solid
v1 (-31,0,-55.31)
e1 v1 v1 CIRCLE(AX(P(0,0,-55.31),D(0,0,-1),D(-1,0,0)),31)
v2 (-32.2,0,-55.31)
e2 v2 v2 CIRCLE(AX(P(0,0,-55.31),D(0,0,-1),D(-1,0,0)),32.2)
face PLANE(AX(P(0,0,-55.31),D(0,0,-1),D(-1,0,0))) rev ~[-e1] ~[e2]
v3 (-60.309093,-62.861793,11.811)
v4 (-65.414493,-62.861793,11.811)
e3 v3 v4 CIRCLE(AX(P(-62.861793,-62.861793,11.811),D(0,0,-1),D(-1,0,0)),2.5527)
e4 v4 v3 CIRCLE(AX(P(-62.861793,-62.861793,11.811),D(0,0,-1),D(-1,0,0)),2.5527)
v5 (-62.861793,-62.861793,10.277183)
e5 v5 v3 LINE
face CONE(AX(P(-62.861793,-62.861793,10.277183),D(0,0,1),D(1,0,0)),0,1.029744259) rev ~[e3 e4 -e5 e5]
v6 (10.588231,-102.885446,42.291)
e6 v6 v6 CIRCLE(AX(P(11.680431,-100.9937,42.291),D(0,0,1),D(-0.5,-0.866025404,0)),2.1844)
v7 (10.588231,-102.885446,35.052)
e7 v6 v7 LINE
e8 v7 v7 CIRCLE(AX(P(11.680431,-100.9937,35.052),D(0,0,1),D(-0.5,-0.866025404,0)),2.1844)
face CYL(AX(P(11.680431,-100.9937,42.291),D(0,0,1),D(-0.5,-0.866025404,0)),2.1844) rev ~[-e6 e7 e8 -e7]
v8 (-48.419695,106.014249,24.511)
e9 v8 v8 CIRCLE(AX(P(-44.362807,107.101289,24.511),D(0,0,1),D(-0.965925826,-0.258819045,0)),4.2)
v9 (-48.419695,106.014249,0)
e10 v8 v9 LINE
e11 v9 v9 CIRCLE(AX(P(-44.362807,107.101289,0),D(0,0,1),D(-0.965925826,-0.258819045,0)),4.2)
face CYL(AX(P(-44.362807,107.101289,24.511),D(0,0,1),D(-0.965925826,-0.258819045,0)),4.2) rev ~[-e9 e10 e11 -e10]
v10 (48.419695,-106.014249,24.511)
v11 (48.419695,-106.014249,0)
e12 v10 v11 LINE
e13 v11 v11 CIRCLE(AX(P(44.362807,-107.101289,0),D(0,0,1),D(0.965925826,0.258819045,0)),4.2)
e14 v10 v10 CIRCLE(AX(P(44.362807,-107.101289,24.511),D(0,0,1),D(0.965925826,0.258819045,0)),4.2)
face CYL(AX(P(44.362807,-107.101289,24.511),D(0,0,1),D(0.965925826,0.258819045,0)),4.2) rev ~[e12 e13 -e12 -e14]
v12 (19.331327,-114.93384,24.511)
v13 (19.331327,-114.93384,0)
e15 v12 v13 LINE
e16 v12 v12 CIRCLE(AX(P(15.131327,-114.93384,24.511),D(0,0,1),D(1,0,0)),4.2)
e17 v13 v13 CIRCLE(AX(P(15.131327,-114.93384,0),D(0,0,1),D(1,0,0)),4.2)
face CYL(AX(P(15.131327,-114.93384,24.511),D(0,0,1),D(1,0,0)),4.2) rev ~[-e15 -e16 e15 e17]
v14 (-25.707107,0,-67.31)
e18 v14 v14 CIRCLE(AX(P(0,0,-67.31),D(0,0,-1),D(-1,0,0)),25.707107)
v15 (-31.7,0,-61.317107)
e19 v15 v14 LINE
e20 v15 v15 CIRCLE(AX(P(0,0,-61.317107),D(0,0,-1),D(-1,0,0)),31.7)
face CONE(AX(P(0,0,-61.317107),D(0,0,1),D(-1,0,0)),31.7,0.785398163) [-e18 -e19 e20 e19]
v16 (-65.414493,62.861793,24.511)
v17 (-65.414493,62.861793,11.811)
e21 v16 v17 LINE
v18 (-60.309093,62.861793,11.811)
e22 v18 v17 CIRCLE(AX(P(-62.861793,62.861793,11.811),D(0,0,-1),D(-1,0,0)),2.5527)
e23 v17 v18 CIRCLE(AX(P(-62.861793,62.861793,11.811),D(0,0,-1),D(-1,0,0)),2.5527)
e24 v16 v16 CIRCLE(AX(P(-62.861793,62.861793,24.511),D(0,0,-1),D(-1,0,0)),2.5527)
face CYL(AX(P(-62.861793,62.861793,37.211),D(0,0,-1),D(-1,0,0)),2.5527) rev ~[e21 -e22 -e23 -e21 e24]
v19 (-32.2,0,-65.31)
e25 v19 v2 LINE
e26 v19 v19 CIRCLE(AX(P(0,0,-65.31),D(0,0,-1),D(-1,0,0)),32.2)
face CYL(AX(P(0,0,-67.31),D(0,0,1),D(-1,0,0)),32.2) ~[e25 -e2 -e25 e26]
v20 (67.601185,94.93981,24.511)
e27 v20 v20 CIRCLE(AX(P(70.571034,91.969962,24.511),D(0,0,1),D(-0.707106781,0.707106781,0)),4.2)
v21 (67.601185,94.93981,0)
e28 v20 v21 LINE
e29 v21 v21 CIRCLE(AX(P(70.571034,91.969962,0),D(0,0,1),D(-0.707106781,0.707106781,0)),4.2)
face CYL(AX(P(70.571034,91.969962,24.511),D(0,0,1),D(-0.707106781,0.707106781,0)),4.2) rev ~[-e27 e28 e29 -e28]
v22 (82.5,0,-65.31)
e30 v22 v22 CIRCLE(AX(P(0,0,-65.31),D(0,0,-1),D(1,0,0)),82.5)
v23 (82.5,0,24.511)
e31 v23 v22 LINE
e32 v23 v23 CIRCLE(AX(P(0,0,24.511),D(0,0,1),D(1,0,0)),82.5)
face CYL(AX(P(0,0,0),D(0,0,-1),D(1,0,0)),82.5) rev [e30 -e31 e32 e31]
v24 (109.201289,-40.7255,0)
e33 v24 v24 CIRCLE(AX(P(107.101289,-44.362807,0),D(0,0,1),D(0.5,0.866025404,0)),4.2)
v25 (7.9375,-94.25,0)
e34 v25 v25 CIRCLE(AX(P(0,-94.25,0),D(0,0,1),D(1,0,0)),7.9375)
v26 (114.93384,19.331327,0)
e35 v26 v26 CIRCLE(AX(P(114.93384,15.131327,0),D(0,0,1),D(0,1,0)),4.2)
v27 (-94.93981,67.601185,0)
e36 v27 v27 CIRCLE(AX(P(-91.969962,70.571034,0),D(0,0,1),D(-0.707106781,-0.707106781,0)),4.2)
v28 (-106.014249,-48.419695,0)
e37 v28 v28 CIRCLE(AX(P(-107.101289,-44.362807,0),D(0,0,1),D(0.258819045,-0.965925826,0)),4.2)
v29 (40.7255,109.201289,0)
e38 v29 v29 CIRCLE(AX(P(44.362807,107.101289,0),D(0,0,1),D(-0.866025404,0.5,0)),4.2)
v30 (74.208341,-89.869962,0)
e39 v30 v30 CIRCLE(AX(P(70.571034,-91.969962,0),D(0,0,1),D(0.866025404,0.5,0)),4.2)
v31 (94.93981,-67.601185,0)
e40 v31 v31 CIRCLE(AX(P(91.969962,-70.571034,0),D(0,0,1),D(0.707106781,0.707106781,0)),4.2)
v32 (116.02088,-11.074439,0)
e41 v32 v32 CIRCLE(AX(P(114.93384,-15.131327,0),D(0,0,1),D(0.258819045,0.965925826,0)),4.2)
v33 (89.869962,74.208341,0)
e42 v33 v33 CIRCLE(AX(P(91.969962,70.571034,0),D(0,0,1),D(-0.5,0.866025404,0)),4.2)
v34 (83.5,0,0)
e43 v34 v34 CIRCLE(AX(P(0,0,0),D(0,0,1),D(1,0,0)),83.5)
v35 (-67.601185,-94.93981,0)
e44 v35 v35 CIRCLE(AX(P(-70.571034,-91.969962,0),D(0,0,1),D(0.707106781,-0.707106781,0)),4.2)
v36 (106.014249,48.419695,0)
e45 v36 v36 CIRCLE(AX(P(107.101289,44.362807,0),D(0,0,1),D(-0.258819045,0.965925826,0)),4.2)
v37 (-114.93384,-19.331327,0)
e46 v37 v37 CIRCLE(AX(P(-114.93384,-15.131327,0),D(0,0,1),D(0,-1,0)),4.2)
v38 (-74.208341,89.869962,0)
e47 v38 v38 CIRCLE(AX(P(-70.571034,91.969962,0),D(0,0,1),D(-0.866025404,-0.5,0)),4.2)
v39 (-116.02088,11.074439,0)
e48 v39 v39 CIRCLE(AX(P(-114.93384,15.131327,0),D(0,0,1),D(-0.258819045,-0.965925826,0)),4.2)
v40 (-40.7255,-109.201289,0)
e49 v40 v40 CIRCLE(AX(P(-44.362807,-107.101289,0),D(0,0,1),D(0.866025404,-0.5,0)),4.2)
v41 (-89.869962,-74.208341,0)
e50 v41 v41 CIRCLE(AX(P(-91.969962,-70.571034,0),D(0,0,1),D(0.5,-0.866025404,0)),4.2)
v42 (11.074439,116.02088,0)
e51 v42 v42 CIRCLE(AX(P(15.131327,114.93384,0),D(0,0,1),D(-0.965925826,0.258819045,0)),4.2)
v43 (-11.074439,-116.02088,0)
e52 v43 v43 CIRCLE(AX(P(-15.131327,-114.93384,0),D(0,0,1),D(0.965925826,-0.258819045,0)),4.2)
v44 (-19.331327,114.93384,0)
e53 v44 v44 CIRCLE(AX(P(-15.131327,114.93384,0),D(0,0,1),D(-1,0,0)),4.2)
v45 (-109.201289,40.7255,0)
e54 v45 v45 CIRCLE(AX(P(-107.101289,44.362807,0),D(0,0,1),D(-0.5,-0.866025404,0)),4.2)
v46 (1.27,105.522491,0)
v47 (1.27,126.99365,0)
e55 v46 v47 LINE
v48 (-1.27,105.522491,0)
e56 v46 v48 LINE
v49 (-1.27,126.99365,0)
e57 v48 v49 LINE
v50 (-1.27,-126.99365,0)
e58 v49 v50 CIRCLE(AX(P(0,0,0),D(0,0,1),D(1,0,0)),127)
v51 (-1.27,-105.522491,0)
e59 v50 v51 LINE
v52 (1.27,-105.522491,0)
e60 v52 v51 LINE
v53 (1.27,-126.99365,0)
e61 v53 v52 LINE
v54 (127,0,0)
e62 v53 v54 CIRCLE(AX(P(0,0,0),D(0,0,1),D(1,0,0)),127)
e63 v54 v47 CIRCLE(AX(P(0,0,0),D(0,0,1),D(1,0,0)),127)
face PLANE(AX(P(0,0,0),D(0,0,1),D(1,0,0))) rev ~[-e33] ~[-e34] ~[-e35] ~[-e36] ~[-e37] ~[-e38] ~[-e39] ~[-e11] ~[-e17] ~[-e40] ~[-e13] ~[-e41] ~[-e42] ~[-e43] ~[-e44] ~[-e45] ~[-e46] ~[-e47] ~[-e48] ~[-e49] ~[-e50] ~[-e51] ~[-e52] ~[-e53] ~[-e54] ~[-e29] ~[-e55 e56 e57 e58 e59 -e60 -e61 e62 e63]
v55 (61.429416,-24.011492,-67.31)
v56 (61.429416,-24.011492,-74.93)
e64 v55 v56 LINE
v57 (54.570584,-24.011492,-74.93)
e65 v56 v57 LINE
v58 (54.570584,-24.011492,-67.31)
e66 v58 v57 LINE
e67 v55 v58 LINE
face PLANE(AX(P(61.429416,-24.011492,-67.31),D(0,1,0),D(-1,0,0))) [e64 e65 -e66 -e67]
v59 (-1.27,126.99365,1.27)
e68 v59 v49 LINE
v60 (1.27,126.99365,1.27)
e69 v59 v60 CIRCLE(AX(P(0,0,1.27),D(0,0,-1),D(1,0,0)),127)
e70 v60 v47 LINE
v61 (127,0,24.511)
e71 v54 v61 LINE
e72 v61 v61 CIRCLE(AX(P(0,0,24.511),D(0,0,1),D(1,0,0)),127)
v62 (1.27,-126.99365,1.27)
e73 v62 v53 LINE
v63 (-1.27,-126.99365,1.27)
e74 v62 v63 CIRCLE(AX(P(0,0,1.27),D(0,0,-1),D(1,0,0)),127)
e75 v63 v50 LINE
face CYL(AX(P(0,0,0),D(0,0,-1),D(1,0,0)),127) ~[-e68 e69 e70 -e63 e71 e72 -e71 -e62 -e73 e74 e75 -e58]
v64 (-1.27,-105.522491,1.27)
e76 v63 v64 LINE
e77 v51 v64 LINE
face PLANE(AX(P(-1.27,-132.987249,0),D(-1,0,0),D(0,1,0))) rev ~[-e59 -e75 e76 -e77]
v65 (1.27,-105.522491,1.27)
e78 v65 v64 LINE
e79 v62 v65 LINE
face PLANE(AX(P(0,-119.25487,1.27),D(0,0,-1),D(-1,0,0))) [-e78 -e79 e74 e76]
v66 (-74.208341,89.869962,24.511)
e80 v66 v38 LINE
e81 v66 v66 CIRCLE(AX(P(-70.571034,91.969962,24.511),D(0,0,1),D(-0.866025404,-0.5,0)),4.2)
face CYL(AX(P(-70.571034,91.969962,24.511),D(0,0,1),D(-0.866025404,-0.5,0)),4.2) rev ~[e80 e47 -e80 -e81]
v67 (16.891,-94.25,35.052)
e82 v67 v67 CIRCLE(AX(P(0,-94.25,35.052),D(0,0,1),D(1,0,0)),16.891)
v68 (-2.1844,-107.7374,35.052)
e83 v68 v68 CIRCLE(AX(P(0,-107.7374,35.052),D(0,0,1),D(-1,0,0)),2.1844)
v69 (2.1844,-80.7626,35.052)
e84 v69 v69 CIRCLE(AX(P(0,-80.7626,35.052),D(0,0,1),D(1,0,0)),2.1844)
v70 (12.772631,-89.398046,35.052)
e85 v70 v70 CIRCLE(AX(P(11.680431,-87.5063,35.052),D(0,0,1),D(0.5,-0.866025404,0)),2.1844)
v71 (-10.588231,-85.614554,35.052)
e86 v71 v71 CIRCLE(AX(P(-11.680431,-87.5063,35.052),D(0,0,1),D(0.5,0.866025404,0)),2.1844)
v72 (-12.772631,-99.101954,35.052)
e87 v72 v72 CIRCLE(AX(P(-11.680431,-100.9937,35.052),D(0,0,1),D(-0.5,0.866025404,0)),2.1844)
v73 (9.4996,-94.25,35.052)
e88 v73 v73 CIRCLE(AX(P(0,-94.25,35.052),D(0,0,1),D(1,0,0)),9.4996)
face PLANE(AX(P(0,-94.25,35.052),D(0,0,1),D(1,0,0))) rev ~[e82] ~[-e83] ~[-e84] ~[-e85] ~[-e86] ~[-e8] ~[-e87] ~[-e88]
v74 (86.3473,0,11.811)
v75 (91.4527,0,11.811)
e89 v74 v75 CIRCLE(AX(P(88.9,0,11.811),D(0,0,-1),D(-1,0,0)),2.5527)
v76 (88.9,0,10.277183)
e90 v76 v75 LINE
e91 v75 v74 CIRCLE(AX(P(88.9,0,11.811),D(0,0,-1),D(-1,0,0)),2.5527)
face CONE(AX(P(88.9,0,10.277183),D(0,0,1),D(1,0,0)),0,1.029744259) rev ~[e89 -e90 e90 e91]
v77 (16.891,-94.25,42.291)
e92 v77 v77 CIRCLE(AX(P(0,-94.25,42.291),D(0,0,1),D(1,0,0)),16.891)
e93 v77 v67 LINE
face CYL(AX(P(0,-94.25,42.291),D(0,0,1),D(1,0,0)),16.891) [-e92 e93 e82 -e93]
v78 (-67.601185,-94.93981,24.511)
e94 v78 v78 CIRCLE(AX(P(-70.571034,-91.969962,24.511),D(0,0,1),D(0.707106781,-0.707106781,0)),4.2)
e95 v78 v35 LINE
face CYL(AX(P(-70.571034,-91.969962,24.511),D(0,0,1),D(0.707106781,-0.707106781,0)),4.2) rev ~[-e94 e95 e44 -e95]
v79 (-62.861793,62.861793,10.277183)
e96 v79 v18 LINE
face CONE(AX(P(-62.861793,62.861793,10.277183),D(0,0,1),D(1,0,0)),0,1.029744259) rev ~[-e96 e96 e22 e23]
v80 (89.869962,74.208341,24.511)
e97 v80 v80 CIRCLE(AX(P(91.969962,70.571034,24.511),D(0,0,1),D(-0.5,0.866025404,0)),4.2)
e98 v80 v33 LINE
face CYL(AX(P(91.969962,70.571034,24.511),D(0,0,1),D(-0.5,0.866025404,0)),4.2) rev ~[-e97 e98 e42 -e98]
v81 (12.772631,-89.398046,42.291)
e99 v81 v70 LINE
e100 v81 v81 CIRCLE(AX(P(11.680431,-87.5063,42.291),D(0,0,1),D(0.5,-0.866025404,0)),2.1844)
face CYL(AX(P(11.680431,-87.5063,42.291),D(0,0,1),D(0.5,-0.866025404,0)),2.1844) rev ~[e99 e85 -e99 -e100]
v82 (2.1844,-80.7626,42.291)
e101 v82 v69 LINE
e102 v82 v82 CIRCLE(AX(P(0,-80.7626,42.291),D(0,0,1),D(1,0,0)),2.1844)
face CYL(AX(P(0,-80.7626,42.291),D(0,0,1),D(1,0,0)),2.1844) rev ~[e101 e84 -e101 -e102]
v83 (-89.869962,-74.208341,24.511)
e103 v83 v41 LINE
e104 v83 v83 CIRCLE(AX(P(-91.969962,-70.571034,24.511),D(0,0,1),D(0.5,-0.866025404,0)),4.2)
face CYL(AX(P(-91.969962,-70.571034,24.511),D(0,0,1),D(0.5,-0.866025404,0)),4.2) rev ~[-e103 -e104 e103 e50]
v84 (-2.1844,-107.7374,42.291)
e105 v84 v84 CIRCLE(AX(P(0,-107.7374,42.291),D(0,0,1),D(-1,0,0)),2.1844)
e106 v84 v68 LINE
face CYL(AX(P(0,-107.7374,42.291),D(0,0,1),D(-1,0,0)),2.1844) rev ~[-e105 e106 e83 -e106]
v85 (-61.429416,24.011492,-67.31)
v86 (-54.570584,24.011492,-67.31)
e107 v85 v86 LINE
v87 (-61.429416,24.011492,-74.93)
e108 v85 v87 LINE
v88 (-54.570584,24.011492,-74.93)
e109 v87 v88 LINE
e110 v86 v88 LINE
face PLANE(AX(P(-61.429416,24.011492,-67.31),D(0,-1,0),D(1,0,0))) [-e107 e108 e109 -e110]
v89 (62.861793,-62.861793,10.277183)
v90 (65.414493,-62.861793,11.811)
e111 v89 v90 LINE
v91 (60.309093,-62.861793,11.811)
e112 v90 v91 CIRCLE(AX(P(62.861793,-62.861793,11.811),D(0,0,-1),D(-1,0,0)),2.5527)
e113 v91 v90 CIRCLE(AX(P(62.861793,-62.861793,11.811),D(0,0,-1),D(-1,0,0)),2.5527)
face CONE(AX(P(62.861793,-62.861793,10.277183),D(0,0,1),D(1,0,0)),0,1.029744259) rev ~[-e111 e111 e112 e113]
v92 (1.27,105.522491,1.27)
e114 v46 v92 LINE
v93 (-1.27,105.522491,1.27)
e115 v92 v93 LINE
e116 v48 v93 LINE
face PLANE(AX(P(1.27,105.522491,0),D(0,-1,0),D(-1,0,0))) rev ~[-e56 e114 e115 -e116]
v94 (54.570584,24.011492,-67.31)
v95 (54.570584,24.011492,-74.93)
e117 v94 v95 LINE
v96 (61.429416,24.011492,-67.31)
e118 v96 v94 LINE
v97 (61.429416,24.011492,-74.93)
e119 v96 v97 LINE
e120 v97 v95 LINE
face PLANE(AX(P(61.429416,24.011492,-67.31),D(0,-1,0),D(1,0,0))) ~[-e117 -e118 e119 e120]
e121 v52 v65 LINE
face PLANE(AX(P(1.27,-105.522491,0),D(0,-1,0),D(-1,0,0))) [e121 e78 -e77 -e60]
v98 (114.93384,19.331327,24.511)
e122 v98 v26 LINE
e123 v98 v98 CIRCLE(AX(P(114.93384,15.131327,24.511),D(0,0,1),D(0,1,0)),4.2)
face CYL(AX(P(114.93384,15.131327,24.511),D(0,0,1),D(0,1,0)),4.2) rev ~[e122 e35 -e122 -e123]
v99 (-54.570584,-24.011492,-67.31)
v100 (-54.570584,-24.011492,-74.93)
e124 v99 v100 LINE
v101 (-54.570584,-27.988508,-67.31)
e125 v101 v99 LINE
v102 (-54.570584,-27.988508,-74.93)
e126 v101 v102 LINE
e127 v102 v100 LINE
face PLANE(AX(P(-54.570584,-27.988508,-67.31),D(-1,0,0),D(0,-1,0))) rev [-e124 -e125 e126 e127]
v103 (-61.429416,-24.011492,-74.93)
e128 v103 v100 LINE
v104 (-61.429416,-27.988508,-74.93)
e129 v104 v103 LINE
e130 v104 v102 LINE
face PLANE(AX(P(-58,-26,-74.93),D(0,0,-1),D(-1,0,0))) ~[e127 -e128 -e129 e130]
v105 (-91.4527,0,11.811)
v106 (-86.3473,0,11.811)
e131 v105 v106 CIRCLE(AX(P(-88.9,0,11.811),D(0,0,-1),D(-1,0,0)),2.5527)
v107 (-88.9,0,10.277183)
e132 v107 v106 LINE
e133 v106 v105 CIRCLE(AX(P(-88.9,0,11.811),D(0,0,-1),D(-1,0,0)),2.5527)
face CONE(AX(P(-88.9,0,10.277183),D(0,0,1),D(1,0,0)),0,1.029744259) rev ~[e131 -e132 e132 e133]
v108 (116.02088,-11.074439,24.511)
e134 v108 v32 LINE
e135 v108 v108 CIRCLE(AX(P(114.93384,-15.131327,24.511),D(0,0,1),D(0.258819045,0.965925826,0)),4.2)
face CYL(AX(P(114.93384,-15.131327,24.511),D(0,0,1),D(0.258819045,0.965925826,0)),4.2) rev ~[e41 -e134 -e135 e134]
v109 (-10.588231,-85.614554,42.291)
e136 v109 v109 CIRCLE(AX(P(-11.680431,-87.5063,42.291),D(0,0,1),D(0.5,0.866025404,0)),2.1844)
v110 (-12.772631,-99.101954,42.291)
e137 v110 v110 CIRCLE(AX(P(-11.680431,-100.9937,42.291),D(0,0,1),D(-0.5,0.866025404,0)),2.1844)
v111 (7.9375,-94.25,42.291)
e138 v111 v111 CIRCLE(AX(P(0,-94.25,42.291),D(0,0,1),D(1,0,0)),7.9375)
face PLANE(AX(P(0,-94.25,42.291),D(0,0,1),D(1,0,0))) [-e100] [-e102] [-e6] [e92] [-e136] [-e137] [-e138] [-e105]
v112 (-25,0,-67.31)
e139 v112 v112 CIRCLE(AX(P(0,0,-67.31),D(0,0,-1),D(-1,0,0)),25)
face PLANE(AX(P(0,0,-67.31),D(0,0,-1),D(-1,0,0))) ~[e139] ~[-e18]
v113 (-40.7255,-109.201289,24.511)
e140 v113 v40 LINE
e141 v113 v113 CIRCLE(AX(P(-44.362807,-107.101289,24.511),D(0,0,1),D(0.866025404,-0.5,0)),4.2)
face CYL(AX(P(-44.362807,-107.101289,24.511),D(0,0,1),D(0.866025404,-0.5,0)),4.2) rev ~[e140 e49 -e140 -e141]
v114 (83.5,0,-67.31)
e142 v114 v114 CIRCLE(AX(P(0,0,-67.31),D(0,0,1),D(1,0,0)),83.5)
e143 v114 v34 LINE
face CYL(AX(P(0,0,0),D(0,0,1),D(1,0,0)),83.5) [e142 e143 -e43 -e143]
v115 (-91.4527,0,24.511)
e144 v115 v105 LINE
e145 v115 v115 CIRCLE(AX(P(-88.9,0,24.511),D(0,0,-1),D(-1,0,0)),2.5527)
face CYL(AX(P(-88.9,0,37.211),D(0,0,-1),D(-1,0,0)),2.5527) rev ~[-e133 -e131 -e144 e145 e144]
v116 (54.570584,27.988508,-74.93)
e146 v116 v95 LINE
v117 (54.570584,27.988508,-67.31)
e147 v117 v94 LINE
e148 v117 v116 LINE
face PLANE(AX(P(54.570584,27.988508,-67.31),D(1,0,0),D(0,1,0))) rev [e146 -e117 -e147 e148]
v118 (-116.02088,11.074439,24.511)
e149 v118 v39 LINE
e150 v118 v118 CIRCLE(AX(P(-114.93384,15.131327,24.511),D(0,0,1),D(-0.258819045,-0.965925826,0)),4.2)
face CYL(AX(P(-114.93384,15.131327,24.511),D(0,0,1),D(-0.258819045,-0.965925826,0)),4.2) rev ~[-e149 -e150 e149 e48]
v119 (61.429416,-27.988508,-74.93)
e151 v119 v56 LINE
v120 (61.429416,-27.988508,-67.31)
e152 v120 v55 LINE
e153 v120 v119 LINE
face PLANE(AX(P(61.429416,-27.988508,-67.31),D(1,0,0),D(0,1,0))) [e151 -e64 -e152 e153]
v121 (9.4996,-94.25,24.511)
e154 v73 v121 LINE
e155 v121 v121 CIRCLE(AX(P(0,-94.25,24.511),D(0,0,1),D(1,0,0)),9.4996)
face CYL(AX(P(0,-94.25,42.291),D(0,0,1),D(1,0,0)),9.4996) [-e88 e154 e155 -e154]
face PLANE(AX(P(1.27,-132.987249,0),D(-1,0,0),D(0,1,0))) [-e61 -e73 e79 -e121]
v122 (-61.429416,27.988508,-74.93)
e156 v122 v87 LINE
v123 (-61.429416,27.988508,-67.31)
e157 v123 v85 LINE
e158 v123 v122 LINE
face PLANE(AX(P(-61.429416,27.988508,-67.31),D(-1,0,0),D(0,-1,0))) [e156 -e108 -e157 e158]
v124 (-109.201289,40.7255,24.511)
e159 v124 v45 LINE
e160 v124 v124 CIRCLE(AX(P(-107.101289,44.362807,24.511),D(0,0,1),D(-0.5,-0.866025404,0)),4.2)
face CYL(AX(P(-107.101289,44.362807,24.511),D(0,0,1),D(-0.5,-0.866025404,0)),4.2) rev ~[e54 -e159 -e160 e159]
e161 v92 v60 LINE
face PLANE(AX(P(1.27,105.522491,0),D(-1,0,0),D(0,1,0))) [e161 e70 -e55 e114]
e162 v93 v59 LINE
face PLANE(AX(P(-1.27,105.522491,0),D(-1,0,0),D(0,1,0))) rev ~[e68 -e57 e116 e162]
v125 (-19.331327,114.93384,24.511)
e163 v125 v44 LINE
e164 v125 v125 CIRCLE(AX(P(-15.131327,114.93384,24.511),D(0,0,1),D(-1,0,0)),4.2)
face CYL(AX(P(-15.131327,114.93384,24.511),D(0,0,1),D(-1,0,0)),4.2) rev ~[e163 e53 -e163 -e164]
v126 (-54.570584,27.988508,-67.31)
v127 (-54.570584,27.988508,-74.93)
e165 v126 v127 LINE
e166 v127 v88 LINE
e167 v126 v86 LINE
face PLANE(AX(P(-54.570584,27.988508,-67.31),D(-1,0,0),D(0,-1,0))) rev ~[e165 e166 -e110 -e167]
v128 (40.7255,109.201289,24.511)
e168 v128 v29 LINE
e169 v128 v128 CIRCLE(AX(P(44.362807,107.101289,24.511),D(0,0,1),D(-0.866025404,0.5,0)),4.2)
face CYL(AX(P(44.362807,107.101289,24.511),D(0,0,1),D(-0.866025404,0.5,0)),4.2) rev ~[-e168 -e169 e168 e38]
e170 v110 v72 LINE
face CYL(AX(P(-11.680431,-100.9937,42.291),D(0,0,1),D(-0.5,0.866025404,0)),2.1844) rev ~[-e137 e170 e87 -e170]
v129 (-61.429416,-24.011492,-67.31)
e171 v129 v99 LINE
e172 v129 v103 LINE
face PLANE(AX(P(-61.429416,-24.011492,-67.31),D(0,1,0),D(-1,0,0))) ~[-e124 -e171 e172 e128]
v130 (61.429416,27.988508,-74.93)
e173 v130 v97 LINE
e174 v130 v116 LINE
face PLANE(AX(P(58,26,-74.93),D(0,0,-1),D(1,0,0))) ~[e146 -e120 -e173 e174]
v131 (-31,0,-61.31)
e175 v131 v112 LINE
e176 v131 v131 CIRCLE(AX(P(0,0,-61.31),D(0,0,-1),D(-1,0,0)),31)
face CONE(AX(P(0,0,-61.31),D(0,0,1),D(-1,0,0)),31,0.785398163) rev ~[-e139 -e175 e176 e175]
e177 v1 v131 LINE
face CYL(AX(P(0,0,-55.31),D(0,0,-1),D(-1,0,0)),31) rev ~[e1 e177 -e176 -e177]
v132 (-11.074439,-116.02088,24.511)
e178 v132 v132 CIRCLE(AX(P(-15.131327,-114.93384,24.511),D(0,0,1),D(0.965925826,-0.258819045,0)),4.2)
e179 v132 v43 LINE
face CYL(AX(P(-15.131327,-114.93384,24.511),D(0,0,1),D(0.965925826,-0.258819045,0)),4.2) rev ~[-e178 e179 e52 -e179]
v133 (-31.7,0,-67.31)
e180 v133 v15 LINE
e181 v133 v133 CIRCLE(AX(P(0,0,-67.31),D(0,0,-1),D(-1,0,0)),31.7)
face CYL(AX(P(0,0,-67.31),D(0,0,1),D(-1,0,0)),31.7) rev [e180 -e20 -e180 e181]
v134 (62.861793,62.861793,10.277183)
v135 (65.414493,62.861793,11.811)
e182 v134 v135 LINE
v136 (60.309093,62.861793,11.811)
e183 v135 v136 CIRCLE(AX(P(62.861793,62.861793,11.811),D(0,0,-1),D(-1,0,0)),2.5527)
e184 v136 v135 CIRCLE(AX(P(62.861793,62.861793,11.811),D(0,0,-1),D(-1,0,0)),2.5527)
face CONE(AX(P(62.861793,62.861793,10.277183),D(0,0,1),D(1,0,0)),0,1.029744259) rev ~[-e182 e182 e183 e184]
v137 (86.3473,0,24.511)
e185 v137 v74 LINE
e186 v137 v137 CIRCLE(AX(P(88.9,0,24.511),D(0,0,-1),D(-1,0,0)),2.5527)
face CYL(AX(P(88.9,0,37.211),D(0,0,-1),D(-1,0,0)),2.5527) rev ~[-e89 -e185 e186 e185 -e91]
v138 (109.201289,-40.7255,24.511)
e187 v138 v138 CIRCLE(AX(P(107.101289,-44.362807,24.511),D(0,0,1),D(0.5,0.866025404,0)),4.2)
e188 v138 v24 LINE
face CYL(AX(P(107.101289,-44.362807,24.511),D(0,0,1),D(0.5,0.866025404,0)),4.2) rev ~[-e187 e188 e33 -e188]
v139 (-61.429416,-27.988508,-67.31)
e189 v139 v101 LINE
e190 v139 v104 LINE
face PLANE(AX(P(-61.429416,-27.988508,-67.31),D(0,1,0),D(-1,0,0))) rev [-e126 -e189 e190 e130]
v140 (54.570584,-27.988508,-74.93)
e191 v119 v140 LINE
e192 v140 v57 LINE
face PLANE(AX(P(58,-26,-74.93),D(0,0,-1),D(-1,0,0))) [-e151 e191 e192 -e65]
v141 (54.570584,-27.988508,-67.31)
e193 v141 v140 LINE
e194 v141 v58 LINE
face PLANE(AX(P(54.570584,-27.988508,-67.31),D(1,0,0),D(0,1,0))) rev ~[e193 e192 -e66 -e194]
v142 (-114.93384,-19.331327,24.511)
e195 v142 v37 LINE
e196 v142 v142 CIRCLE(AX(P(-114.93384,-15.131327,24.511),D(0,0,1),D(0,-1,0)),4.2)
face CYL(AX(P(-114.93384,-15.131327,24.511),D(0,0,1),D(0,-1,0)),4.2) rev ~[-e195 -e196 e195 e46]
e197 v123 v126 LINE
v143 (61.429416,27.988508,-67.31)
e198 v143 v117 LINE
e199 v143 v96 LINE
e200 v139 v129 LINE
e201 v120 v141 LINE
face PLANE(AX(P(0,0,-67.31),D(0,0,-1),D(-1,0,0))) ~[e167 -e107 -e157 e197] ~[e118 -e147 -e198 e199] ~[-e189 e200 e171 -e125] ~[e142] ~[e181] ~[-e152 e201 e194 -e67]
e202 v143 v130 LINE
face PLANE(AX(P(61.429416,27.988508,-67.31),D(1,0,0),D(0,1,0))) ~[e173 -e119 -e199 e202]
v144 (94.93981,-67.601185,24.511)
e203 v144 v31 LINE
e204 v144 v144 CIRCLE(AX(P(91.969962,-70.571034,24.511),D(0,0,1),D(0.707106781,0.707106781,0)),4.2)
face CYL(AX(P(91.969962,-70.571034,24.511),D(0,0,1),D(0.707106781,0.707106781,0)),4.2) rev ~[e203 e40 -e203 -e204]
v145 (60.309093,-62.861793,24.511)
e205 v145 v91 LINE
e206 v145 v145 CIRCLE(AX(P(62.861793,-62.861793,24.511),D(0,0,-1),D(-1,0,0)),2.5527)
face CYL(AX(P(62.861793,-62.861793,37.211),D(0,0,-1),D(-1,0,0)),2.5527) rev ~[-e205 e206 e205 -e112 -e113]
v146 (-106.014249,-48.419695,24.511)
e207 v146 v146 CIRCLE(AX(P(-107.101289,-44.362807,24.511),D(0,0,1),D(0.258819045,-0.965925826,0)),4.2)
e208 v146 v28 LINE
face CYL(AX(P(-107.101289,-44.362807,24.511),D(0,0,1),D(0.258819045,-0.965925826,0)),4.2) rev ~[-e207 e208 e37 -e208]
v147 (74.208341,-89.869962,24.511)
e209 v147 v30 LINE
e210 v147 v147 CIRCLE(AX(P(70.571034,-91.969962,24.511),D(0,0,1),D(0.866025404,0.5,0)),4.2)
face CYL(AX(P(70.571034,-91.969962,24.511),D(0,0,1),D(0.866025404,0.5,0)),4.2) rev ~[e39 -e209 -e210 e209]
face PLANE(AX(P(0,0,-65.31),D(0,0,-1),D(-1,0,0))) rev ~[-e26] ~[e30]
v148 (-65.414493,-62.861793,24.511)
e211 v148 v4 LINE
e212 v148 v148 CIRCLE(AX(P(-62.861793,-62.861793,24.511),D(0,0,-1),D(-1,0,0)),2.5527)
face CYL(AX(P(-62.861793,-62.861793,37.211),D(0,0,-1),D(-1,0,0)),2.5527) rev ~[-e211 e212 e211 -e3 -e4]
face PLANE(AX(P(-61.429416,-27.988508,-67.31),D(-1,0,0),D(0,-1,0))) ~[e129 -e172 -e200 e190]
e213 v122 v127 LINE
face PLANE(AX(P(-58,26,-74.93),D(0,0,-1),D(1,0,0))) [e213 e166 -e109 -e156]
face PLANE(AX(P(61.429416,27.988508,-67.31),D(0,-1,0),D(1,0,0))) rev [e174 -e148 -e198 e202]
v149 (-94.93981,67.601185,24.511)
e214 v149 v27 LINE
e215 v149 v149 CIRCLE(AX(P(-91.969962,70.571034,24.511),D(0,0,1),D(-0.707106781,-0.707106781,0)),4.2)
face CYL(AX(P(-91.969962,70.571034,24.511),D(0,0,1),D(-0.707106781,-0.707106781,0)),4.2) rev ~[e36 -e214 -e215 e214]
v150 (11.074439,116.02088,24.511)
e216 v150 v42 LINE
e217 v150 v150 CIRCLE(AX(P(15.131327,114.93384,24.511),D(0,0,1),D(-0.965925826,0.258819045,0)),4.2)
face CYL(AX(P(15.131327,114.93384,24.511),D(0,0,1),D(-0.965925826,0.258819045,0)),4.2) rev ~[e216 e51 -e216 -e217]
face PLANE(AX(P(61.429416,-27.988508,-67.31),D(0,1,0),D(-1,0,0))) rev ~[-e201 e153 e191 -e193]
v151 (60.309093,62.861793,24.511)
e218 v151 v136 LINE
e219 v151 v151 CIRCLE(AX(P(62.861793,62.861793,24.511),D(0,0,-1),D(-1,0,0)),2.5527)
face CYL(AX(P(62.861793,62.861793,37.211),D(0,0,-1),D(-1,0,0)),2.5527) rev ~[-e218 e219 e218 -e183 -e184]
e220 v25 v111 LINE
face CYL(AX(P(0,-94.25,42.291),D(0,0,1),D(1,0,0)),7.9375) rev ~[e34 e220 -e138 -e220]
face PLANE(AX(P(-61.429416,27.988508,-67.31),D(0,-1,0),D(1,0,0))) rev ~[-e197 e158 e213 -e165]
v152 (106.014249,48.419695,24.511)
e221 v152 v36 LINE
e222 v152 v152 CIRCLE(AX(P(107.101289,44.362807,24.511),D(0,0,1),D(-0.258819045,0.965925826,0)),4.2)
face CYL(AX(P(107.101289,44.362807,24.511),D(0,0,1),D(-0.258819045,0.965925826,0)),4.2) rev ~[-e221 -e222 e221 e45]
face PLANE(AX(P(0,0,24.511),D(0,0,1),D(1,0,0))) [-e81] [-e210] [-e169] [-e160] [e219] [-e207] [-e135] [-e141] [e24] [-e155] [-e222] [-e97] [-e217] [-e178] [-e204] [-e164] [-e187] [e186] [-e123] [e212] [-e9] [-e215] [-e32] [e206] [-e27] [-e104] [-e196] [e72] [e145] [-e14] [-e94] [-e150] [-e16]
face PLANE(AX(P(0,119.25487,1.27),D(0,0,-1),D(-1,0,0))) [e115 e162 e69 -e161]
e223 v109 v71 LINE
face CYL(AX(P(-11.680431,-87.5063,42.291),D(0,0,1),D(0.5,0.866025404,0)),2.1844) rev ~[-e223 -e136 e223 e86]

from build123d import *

# Parameters (mm, degrees)
SKETCH1_R                   = 83.5
SKETCH1_R_2                 = 82.5
EXTRUDE1_DEPTH              = 67.31
SKETCH2_R                   = 127
SKETCH2_R_2                 = 82.5
EXTRUDE2_DEPTH              = 24.511
SKETCH3_R                   = 4.2
CUT_EXTRUDE1_DEPTH          = 24.511
CIRPATTERN1_COUNT           = 24
SKETCH4_R                   = 83.5
SKETCH4_R_2                 = 32.2
EXTRUDE3_DEPTH              = 2
SKETCH13_R                  = 7.9375
EXTRUDE4_DEPTH              = 110.601
SKETCH14_R                  = 9.4996
SKETCH14_R_2                = 7.9375
EXTRUDE5_DEPTH              = 17.78
SKETCH15_R                  = 16.891
SKETCH15_R_2                = 7.9375
EXTRUDE6_DEPTH              = 7.239
SKETCH16_R                  = 2.1844
EXTRUDE7_DEPTH              = 7.239
CIRPATTERN2_COUNT           = 6
SKETCH17_W                  = 6.858832098
SKETCH17_H                  = 3.977015868
EXTRUDE8_DEPTH              = 7.62
MIRROR4_COPY_1_SKETCH_W     = 6.858832098
MIRROR4_COPY_1_SKETCH_H     = 3.977015868
MIRROR4_COPY_1_DEPTH        = 7.62
F_1_4_20_TAPPED_HOLE1_D     = 5.1054
F_1_4_20_TAPPED_HOLE1_DEPTH = 12.7
F_1_4_20_TAPPED_HOLE1_TIP   = 1.533816902
SKETCH21_W                  = 2.54
SKETCH21_H                  = 27.464757855
EXTRUDE9_DEPTH              = 1.27


with BuildPart() as part:
    # Sketch1 → Extrude1 (new body)
    with BuildSketch(Plane.XY):
        Circle(SKETCH1_R)
        Circle(SKETCH1_R_2, mode=Mode.SUBTRACT)
    extrude(amount=-EXTRUDE1_DEPTH)

    # Sketch2 → Extrude2 (add)
    with BuildSketch(Plane.XY):
        Circle(SKETCH2_R)
        Circle(SKETCH2_R_2, mode=Mode.SUBTRACT)
    extrude(amount=EXTRUDE2_DEPTH)

    # Sketch3 → Cut-Extrude1 (cut)
    with BuildSketch(Plane.XY.offset(24.511)):
        with Locations((15.131327149, -114.933840422)):
            Circle(SKETCH3_R)
    cut_extrude1 = extrude(amount=-CUT_EXTRUDE1_DEPTH, mode=Mode.SUBTRACT)

    # CirPattern1: Cut-Extrude1 ×24 about axis
    cirpattern1_axis = Axis((0, 0, 0), (0, 0, 1))
    for i in range(1, CIRPATTERN1_COUNT):
        add(cut_extrude1.rotate(cirpattern1_axis, i * 360 / CIRPATTERN1_COUNT), mode=Mode.SUBTRACT)

    # Sketch4 → Extrude3 (add)
    with BuildSketch(Plane(origin=(0, 0, -67.31), x_dir=(-1, 0, 0), z_dir=(0, 0, -1))):
        Circle(SKETCH4_R)
        Circle(SKETCH4_R_2, mode=Mode.SUBTRACT)
    extrude(amount=-EXTRUDE3_DEPTH)

    # Sketch5 → Revolve1 (revolve)
    with BuildSketch(Plane(origin=(0, 0, 0), x_dir=(1, 0, 0), z_dir=(0, 1, 0))):
        Polygon((-32.2, 67.31), (-32.2, 55.31), (-31, 55.31), (-31, 61.31), (-25, 67.31), align=None)
    revolve(axis=Axis((0, 0, 0), (0, 0, -1)))

    # Sketch11 → Cut-Revolve1 (revolve, cut)
    with BuildSketch(Plane(origin=(0, 0, 0), x_dir=(1, 0, 0), z_dir=(0, 1, 0))):
        Polygon((-31.7, 67.31), (-31.7, 61.317106781), (-25.707106781, 67.31), align=None)
    revolve(axis=Axis((0, 0, 0), (0, 0, -1)), mode=Mode.SUBTRACT)

    # Sketch13 → Extrude4 (cut, through all)
    with BuildSketch(Plane.XY.offset(42.291)):
        with Locations((0, -94.25)):
            Circle(SKETCH13_R)
    extrude(amount=-EXTRUDE4_DEPTH, mode=Mode.SUBTRACT)

    # Sketch14 → Extrude5 (add)
    with BuildSketch(Plane.XY.offset(42.291)):
        with Locations((0, -94.25)):
            Circle(SKETCH14_R)
        with Locations((0, -94.25)):
            Circle(SKETCH14_R_2, mode=Mode.SUBTRACT)
    extrude(amount=-EXTRUDE5_DEPTH)

    # Sketch15 → Extrude6 (add)
    with BuildSketch(Plane.XY.offset(42.291)):
        with Locations((0, -94.25)):
            Circle(SKETCH15_R)
        with Locations((0, -94.25)):
            Circle(SKETCH15_R_2, mode=Mode.SUBTRACT)
    extrude(amount=-EXTRUDE6_DEPTH)

    # Sketch16 → Extrude7 (cut)
    with BuildSketch(Plane.XY.offset(42.291)):
        with Locations((0, -80.7626)):
            Circle(SKETCH16_R)
    extrude7 = extrude(amount=-EXTRUDE7_DEPTH, mode=Mode.SUBTRACT)

    # CirPattern2: Extrude7 ×6 about axis
    cirpattern2_axis = Axis((0, -94.25, 0), (0, 0, 1))
    for i in range(1, CIRPATTERN2_COUNT):
        add(extrude7.rotate(cirpattern2_axis, i * 360 / CIRPATTERN2_COUNT), mode=Mode.SUBTRACT)

    # Sketch17 → Extrude8 (add)
    with BuildSketch(Plane(origin=(0, 0, -67.31), x_dir=(-1, 0, 0), z_dir=(0, 0, -1))):
        with Locations((-58, -26)):
            Rectangle(SKETCH17_W, SKETCH17_H)
    extrude8 = extrude(amount=EXTRUDE8_DEPTH)

    # Mirror3: Extrude8 across plane
    add(extrude8.mirror(Plane.ZX))

    # Mirror4: Extrude8 across plane
    add(extrude8.mirror(Plane(origin=(0, 0, 0), x_dir=(0, 0, 1), z_dir=(1, 0, 0))))

    # Mirror4 copy 1 sketch → Mirror4 copy 1 (add)
    with BuildSketch(Plane(origin=(0, 0, -67.31), x_dir=(1, 0, 0), z_dir=(0, 0, -1))):
        with Locations((-58, -26)):
            Rectangle(MIRROR4_COPY_1_SKETCH_W, MIRROR4_COPY_1_SKETCH_H)
    extrude(amount=MIRROR4_COPY_1_DEPTH)

    # 1/4-20 Tapped Hole1
    with Locations(Plane(origin=(62.861792847, -62.861792847, 24.511), x_dir=(1, 0, 0), z_dir=(0, 0, 1))):
        with Locations((0, 0), (-125.723585694, 0), (-151.761792847, 62.861792847), (-125.723585694, 125.723585694), (0, 125.723585694), (26.038207153, 62.861792847)):
            Hole(F_1_4_20_TAPPED_HOLE1_D / 2, depth=F_1_4_20_TAPPED_HOLE1_DEPTH)
            with Locations((0, 0, -(F_1_4_20_TAPPED_HOLE1_DEPTH + F_1_4_20_TAPPED_HOLE1_TIP / 2))):  # 118° drill point
                Cone(0, F_1_4_20_TAPPED_HOLE1_D / 2, F_1_4_20_TAPPED_HOLE1_TIP, mode=Mode.SUBTRACT)

    # Sketch21 → Extrude9 (cut)
    with BuildSketch(Plane(origin=(0, 0, 0), x_dir=(-1, 0, 0), z_dir=(0, 0, -1))):
        with Locations((0, -119.254869633)):
            Rectangle(SKETCH21_W, SKETCH21_H)
        with Locations((0, 119.254869633)):
            Rectangle(SKETCH21_W, SKETCH21_H)
    extrude(amount=-EXTRUDE9_DEPTH, mode=Mode.SUBTRACT)


solid = part.part
